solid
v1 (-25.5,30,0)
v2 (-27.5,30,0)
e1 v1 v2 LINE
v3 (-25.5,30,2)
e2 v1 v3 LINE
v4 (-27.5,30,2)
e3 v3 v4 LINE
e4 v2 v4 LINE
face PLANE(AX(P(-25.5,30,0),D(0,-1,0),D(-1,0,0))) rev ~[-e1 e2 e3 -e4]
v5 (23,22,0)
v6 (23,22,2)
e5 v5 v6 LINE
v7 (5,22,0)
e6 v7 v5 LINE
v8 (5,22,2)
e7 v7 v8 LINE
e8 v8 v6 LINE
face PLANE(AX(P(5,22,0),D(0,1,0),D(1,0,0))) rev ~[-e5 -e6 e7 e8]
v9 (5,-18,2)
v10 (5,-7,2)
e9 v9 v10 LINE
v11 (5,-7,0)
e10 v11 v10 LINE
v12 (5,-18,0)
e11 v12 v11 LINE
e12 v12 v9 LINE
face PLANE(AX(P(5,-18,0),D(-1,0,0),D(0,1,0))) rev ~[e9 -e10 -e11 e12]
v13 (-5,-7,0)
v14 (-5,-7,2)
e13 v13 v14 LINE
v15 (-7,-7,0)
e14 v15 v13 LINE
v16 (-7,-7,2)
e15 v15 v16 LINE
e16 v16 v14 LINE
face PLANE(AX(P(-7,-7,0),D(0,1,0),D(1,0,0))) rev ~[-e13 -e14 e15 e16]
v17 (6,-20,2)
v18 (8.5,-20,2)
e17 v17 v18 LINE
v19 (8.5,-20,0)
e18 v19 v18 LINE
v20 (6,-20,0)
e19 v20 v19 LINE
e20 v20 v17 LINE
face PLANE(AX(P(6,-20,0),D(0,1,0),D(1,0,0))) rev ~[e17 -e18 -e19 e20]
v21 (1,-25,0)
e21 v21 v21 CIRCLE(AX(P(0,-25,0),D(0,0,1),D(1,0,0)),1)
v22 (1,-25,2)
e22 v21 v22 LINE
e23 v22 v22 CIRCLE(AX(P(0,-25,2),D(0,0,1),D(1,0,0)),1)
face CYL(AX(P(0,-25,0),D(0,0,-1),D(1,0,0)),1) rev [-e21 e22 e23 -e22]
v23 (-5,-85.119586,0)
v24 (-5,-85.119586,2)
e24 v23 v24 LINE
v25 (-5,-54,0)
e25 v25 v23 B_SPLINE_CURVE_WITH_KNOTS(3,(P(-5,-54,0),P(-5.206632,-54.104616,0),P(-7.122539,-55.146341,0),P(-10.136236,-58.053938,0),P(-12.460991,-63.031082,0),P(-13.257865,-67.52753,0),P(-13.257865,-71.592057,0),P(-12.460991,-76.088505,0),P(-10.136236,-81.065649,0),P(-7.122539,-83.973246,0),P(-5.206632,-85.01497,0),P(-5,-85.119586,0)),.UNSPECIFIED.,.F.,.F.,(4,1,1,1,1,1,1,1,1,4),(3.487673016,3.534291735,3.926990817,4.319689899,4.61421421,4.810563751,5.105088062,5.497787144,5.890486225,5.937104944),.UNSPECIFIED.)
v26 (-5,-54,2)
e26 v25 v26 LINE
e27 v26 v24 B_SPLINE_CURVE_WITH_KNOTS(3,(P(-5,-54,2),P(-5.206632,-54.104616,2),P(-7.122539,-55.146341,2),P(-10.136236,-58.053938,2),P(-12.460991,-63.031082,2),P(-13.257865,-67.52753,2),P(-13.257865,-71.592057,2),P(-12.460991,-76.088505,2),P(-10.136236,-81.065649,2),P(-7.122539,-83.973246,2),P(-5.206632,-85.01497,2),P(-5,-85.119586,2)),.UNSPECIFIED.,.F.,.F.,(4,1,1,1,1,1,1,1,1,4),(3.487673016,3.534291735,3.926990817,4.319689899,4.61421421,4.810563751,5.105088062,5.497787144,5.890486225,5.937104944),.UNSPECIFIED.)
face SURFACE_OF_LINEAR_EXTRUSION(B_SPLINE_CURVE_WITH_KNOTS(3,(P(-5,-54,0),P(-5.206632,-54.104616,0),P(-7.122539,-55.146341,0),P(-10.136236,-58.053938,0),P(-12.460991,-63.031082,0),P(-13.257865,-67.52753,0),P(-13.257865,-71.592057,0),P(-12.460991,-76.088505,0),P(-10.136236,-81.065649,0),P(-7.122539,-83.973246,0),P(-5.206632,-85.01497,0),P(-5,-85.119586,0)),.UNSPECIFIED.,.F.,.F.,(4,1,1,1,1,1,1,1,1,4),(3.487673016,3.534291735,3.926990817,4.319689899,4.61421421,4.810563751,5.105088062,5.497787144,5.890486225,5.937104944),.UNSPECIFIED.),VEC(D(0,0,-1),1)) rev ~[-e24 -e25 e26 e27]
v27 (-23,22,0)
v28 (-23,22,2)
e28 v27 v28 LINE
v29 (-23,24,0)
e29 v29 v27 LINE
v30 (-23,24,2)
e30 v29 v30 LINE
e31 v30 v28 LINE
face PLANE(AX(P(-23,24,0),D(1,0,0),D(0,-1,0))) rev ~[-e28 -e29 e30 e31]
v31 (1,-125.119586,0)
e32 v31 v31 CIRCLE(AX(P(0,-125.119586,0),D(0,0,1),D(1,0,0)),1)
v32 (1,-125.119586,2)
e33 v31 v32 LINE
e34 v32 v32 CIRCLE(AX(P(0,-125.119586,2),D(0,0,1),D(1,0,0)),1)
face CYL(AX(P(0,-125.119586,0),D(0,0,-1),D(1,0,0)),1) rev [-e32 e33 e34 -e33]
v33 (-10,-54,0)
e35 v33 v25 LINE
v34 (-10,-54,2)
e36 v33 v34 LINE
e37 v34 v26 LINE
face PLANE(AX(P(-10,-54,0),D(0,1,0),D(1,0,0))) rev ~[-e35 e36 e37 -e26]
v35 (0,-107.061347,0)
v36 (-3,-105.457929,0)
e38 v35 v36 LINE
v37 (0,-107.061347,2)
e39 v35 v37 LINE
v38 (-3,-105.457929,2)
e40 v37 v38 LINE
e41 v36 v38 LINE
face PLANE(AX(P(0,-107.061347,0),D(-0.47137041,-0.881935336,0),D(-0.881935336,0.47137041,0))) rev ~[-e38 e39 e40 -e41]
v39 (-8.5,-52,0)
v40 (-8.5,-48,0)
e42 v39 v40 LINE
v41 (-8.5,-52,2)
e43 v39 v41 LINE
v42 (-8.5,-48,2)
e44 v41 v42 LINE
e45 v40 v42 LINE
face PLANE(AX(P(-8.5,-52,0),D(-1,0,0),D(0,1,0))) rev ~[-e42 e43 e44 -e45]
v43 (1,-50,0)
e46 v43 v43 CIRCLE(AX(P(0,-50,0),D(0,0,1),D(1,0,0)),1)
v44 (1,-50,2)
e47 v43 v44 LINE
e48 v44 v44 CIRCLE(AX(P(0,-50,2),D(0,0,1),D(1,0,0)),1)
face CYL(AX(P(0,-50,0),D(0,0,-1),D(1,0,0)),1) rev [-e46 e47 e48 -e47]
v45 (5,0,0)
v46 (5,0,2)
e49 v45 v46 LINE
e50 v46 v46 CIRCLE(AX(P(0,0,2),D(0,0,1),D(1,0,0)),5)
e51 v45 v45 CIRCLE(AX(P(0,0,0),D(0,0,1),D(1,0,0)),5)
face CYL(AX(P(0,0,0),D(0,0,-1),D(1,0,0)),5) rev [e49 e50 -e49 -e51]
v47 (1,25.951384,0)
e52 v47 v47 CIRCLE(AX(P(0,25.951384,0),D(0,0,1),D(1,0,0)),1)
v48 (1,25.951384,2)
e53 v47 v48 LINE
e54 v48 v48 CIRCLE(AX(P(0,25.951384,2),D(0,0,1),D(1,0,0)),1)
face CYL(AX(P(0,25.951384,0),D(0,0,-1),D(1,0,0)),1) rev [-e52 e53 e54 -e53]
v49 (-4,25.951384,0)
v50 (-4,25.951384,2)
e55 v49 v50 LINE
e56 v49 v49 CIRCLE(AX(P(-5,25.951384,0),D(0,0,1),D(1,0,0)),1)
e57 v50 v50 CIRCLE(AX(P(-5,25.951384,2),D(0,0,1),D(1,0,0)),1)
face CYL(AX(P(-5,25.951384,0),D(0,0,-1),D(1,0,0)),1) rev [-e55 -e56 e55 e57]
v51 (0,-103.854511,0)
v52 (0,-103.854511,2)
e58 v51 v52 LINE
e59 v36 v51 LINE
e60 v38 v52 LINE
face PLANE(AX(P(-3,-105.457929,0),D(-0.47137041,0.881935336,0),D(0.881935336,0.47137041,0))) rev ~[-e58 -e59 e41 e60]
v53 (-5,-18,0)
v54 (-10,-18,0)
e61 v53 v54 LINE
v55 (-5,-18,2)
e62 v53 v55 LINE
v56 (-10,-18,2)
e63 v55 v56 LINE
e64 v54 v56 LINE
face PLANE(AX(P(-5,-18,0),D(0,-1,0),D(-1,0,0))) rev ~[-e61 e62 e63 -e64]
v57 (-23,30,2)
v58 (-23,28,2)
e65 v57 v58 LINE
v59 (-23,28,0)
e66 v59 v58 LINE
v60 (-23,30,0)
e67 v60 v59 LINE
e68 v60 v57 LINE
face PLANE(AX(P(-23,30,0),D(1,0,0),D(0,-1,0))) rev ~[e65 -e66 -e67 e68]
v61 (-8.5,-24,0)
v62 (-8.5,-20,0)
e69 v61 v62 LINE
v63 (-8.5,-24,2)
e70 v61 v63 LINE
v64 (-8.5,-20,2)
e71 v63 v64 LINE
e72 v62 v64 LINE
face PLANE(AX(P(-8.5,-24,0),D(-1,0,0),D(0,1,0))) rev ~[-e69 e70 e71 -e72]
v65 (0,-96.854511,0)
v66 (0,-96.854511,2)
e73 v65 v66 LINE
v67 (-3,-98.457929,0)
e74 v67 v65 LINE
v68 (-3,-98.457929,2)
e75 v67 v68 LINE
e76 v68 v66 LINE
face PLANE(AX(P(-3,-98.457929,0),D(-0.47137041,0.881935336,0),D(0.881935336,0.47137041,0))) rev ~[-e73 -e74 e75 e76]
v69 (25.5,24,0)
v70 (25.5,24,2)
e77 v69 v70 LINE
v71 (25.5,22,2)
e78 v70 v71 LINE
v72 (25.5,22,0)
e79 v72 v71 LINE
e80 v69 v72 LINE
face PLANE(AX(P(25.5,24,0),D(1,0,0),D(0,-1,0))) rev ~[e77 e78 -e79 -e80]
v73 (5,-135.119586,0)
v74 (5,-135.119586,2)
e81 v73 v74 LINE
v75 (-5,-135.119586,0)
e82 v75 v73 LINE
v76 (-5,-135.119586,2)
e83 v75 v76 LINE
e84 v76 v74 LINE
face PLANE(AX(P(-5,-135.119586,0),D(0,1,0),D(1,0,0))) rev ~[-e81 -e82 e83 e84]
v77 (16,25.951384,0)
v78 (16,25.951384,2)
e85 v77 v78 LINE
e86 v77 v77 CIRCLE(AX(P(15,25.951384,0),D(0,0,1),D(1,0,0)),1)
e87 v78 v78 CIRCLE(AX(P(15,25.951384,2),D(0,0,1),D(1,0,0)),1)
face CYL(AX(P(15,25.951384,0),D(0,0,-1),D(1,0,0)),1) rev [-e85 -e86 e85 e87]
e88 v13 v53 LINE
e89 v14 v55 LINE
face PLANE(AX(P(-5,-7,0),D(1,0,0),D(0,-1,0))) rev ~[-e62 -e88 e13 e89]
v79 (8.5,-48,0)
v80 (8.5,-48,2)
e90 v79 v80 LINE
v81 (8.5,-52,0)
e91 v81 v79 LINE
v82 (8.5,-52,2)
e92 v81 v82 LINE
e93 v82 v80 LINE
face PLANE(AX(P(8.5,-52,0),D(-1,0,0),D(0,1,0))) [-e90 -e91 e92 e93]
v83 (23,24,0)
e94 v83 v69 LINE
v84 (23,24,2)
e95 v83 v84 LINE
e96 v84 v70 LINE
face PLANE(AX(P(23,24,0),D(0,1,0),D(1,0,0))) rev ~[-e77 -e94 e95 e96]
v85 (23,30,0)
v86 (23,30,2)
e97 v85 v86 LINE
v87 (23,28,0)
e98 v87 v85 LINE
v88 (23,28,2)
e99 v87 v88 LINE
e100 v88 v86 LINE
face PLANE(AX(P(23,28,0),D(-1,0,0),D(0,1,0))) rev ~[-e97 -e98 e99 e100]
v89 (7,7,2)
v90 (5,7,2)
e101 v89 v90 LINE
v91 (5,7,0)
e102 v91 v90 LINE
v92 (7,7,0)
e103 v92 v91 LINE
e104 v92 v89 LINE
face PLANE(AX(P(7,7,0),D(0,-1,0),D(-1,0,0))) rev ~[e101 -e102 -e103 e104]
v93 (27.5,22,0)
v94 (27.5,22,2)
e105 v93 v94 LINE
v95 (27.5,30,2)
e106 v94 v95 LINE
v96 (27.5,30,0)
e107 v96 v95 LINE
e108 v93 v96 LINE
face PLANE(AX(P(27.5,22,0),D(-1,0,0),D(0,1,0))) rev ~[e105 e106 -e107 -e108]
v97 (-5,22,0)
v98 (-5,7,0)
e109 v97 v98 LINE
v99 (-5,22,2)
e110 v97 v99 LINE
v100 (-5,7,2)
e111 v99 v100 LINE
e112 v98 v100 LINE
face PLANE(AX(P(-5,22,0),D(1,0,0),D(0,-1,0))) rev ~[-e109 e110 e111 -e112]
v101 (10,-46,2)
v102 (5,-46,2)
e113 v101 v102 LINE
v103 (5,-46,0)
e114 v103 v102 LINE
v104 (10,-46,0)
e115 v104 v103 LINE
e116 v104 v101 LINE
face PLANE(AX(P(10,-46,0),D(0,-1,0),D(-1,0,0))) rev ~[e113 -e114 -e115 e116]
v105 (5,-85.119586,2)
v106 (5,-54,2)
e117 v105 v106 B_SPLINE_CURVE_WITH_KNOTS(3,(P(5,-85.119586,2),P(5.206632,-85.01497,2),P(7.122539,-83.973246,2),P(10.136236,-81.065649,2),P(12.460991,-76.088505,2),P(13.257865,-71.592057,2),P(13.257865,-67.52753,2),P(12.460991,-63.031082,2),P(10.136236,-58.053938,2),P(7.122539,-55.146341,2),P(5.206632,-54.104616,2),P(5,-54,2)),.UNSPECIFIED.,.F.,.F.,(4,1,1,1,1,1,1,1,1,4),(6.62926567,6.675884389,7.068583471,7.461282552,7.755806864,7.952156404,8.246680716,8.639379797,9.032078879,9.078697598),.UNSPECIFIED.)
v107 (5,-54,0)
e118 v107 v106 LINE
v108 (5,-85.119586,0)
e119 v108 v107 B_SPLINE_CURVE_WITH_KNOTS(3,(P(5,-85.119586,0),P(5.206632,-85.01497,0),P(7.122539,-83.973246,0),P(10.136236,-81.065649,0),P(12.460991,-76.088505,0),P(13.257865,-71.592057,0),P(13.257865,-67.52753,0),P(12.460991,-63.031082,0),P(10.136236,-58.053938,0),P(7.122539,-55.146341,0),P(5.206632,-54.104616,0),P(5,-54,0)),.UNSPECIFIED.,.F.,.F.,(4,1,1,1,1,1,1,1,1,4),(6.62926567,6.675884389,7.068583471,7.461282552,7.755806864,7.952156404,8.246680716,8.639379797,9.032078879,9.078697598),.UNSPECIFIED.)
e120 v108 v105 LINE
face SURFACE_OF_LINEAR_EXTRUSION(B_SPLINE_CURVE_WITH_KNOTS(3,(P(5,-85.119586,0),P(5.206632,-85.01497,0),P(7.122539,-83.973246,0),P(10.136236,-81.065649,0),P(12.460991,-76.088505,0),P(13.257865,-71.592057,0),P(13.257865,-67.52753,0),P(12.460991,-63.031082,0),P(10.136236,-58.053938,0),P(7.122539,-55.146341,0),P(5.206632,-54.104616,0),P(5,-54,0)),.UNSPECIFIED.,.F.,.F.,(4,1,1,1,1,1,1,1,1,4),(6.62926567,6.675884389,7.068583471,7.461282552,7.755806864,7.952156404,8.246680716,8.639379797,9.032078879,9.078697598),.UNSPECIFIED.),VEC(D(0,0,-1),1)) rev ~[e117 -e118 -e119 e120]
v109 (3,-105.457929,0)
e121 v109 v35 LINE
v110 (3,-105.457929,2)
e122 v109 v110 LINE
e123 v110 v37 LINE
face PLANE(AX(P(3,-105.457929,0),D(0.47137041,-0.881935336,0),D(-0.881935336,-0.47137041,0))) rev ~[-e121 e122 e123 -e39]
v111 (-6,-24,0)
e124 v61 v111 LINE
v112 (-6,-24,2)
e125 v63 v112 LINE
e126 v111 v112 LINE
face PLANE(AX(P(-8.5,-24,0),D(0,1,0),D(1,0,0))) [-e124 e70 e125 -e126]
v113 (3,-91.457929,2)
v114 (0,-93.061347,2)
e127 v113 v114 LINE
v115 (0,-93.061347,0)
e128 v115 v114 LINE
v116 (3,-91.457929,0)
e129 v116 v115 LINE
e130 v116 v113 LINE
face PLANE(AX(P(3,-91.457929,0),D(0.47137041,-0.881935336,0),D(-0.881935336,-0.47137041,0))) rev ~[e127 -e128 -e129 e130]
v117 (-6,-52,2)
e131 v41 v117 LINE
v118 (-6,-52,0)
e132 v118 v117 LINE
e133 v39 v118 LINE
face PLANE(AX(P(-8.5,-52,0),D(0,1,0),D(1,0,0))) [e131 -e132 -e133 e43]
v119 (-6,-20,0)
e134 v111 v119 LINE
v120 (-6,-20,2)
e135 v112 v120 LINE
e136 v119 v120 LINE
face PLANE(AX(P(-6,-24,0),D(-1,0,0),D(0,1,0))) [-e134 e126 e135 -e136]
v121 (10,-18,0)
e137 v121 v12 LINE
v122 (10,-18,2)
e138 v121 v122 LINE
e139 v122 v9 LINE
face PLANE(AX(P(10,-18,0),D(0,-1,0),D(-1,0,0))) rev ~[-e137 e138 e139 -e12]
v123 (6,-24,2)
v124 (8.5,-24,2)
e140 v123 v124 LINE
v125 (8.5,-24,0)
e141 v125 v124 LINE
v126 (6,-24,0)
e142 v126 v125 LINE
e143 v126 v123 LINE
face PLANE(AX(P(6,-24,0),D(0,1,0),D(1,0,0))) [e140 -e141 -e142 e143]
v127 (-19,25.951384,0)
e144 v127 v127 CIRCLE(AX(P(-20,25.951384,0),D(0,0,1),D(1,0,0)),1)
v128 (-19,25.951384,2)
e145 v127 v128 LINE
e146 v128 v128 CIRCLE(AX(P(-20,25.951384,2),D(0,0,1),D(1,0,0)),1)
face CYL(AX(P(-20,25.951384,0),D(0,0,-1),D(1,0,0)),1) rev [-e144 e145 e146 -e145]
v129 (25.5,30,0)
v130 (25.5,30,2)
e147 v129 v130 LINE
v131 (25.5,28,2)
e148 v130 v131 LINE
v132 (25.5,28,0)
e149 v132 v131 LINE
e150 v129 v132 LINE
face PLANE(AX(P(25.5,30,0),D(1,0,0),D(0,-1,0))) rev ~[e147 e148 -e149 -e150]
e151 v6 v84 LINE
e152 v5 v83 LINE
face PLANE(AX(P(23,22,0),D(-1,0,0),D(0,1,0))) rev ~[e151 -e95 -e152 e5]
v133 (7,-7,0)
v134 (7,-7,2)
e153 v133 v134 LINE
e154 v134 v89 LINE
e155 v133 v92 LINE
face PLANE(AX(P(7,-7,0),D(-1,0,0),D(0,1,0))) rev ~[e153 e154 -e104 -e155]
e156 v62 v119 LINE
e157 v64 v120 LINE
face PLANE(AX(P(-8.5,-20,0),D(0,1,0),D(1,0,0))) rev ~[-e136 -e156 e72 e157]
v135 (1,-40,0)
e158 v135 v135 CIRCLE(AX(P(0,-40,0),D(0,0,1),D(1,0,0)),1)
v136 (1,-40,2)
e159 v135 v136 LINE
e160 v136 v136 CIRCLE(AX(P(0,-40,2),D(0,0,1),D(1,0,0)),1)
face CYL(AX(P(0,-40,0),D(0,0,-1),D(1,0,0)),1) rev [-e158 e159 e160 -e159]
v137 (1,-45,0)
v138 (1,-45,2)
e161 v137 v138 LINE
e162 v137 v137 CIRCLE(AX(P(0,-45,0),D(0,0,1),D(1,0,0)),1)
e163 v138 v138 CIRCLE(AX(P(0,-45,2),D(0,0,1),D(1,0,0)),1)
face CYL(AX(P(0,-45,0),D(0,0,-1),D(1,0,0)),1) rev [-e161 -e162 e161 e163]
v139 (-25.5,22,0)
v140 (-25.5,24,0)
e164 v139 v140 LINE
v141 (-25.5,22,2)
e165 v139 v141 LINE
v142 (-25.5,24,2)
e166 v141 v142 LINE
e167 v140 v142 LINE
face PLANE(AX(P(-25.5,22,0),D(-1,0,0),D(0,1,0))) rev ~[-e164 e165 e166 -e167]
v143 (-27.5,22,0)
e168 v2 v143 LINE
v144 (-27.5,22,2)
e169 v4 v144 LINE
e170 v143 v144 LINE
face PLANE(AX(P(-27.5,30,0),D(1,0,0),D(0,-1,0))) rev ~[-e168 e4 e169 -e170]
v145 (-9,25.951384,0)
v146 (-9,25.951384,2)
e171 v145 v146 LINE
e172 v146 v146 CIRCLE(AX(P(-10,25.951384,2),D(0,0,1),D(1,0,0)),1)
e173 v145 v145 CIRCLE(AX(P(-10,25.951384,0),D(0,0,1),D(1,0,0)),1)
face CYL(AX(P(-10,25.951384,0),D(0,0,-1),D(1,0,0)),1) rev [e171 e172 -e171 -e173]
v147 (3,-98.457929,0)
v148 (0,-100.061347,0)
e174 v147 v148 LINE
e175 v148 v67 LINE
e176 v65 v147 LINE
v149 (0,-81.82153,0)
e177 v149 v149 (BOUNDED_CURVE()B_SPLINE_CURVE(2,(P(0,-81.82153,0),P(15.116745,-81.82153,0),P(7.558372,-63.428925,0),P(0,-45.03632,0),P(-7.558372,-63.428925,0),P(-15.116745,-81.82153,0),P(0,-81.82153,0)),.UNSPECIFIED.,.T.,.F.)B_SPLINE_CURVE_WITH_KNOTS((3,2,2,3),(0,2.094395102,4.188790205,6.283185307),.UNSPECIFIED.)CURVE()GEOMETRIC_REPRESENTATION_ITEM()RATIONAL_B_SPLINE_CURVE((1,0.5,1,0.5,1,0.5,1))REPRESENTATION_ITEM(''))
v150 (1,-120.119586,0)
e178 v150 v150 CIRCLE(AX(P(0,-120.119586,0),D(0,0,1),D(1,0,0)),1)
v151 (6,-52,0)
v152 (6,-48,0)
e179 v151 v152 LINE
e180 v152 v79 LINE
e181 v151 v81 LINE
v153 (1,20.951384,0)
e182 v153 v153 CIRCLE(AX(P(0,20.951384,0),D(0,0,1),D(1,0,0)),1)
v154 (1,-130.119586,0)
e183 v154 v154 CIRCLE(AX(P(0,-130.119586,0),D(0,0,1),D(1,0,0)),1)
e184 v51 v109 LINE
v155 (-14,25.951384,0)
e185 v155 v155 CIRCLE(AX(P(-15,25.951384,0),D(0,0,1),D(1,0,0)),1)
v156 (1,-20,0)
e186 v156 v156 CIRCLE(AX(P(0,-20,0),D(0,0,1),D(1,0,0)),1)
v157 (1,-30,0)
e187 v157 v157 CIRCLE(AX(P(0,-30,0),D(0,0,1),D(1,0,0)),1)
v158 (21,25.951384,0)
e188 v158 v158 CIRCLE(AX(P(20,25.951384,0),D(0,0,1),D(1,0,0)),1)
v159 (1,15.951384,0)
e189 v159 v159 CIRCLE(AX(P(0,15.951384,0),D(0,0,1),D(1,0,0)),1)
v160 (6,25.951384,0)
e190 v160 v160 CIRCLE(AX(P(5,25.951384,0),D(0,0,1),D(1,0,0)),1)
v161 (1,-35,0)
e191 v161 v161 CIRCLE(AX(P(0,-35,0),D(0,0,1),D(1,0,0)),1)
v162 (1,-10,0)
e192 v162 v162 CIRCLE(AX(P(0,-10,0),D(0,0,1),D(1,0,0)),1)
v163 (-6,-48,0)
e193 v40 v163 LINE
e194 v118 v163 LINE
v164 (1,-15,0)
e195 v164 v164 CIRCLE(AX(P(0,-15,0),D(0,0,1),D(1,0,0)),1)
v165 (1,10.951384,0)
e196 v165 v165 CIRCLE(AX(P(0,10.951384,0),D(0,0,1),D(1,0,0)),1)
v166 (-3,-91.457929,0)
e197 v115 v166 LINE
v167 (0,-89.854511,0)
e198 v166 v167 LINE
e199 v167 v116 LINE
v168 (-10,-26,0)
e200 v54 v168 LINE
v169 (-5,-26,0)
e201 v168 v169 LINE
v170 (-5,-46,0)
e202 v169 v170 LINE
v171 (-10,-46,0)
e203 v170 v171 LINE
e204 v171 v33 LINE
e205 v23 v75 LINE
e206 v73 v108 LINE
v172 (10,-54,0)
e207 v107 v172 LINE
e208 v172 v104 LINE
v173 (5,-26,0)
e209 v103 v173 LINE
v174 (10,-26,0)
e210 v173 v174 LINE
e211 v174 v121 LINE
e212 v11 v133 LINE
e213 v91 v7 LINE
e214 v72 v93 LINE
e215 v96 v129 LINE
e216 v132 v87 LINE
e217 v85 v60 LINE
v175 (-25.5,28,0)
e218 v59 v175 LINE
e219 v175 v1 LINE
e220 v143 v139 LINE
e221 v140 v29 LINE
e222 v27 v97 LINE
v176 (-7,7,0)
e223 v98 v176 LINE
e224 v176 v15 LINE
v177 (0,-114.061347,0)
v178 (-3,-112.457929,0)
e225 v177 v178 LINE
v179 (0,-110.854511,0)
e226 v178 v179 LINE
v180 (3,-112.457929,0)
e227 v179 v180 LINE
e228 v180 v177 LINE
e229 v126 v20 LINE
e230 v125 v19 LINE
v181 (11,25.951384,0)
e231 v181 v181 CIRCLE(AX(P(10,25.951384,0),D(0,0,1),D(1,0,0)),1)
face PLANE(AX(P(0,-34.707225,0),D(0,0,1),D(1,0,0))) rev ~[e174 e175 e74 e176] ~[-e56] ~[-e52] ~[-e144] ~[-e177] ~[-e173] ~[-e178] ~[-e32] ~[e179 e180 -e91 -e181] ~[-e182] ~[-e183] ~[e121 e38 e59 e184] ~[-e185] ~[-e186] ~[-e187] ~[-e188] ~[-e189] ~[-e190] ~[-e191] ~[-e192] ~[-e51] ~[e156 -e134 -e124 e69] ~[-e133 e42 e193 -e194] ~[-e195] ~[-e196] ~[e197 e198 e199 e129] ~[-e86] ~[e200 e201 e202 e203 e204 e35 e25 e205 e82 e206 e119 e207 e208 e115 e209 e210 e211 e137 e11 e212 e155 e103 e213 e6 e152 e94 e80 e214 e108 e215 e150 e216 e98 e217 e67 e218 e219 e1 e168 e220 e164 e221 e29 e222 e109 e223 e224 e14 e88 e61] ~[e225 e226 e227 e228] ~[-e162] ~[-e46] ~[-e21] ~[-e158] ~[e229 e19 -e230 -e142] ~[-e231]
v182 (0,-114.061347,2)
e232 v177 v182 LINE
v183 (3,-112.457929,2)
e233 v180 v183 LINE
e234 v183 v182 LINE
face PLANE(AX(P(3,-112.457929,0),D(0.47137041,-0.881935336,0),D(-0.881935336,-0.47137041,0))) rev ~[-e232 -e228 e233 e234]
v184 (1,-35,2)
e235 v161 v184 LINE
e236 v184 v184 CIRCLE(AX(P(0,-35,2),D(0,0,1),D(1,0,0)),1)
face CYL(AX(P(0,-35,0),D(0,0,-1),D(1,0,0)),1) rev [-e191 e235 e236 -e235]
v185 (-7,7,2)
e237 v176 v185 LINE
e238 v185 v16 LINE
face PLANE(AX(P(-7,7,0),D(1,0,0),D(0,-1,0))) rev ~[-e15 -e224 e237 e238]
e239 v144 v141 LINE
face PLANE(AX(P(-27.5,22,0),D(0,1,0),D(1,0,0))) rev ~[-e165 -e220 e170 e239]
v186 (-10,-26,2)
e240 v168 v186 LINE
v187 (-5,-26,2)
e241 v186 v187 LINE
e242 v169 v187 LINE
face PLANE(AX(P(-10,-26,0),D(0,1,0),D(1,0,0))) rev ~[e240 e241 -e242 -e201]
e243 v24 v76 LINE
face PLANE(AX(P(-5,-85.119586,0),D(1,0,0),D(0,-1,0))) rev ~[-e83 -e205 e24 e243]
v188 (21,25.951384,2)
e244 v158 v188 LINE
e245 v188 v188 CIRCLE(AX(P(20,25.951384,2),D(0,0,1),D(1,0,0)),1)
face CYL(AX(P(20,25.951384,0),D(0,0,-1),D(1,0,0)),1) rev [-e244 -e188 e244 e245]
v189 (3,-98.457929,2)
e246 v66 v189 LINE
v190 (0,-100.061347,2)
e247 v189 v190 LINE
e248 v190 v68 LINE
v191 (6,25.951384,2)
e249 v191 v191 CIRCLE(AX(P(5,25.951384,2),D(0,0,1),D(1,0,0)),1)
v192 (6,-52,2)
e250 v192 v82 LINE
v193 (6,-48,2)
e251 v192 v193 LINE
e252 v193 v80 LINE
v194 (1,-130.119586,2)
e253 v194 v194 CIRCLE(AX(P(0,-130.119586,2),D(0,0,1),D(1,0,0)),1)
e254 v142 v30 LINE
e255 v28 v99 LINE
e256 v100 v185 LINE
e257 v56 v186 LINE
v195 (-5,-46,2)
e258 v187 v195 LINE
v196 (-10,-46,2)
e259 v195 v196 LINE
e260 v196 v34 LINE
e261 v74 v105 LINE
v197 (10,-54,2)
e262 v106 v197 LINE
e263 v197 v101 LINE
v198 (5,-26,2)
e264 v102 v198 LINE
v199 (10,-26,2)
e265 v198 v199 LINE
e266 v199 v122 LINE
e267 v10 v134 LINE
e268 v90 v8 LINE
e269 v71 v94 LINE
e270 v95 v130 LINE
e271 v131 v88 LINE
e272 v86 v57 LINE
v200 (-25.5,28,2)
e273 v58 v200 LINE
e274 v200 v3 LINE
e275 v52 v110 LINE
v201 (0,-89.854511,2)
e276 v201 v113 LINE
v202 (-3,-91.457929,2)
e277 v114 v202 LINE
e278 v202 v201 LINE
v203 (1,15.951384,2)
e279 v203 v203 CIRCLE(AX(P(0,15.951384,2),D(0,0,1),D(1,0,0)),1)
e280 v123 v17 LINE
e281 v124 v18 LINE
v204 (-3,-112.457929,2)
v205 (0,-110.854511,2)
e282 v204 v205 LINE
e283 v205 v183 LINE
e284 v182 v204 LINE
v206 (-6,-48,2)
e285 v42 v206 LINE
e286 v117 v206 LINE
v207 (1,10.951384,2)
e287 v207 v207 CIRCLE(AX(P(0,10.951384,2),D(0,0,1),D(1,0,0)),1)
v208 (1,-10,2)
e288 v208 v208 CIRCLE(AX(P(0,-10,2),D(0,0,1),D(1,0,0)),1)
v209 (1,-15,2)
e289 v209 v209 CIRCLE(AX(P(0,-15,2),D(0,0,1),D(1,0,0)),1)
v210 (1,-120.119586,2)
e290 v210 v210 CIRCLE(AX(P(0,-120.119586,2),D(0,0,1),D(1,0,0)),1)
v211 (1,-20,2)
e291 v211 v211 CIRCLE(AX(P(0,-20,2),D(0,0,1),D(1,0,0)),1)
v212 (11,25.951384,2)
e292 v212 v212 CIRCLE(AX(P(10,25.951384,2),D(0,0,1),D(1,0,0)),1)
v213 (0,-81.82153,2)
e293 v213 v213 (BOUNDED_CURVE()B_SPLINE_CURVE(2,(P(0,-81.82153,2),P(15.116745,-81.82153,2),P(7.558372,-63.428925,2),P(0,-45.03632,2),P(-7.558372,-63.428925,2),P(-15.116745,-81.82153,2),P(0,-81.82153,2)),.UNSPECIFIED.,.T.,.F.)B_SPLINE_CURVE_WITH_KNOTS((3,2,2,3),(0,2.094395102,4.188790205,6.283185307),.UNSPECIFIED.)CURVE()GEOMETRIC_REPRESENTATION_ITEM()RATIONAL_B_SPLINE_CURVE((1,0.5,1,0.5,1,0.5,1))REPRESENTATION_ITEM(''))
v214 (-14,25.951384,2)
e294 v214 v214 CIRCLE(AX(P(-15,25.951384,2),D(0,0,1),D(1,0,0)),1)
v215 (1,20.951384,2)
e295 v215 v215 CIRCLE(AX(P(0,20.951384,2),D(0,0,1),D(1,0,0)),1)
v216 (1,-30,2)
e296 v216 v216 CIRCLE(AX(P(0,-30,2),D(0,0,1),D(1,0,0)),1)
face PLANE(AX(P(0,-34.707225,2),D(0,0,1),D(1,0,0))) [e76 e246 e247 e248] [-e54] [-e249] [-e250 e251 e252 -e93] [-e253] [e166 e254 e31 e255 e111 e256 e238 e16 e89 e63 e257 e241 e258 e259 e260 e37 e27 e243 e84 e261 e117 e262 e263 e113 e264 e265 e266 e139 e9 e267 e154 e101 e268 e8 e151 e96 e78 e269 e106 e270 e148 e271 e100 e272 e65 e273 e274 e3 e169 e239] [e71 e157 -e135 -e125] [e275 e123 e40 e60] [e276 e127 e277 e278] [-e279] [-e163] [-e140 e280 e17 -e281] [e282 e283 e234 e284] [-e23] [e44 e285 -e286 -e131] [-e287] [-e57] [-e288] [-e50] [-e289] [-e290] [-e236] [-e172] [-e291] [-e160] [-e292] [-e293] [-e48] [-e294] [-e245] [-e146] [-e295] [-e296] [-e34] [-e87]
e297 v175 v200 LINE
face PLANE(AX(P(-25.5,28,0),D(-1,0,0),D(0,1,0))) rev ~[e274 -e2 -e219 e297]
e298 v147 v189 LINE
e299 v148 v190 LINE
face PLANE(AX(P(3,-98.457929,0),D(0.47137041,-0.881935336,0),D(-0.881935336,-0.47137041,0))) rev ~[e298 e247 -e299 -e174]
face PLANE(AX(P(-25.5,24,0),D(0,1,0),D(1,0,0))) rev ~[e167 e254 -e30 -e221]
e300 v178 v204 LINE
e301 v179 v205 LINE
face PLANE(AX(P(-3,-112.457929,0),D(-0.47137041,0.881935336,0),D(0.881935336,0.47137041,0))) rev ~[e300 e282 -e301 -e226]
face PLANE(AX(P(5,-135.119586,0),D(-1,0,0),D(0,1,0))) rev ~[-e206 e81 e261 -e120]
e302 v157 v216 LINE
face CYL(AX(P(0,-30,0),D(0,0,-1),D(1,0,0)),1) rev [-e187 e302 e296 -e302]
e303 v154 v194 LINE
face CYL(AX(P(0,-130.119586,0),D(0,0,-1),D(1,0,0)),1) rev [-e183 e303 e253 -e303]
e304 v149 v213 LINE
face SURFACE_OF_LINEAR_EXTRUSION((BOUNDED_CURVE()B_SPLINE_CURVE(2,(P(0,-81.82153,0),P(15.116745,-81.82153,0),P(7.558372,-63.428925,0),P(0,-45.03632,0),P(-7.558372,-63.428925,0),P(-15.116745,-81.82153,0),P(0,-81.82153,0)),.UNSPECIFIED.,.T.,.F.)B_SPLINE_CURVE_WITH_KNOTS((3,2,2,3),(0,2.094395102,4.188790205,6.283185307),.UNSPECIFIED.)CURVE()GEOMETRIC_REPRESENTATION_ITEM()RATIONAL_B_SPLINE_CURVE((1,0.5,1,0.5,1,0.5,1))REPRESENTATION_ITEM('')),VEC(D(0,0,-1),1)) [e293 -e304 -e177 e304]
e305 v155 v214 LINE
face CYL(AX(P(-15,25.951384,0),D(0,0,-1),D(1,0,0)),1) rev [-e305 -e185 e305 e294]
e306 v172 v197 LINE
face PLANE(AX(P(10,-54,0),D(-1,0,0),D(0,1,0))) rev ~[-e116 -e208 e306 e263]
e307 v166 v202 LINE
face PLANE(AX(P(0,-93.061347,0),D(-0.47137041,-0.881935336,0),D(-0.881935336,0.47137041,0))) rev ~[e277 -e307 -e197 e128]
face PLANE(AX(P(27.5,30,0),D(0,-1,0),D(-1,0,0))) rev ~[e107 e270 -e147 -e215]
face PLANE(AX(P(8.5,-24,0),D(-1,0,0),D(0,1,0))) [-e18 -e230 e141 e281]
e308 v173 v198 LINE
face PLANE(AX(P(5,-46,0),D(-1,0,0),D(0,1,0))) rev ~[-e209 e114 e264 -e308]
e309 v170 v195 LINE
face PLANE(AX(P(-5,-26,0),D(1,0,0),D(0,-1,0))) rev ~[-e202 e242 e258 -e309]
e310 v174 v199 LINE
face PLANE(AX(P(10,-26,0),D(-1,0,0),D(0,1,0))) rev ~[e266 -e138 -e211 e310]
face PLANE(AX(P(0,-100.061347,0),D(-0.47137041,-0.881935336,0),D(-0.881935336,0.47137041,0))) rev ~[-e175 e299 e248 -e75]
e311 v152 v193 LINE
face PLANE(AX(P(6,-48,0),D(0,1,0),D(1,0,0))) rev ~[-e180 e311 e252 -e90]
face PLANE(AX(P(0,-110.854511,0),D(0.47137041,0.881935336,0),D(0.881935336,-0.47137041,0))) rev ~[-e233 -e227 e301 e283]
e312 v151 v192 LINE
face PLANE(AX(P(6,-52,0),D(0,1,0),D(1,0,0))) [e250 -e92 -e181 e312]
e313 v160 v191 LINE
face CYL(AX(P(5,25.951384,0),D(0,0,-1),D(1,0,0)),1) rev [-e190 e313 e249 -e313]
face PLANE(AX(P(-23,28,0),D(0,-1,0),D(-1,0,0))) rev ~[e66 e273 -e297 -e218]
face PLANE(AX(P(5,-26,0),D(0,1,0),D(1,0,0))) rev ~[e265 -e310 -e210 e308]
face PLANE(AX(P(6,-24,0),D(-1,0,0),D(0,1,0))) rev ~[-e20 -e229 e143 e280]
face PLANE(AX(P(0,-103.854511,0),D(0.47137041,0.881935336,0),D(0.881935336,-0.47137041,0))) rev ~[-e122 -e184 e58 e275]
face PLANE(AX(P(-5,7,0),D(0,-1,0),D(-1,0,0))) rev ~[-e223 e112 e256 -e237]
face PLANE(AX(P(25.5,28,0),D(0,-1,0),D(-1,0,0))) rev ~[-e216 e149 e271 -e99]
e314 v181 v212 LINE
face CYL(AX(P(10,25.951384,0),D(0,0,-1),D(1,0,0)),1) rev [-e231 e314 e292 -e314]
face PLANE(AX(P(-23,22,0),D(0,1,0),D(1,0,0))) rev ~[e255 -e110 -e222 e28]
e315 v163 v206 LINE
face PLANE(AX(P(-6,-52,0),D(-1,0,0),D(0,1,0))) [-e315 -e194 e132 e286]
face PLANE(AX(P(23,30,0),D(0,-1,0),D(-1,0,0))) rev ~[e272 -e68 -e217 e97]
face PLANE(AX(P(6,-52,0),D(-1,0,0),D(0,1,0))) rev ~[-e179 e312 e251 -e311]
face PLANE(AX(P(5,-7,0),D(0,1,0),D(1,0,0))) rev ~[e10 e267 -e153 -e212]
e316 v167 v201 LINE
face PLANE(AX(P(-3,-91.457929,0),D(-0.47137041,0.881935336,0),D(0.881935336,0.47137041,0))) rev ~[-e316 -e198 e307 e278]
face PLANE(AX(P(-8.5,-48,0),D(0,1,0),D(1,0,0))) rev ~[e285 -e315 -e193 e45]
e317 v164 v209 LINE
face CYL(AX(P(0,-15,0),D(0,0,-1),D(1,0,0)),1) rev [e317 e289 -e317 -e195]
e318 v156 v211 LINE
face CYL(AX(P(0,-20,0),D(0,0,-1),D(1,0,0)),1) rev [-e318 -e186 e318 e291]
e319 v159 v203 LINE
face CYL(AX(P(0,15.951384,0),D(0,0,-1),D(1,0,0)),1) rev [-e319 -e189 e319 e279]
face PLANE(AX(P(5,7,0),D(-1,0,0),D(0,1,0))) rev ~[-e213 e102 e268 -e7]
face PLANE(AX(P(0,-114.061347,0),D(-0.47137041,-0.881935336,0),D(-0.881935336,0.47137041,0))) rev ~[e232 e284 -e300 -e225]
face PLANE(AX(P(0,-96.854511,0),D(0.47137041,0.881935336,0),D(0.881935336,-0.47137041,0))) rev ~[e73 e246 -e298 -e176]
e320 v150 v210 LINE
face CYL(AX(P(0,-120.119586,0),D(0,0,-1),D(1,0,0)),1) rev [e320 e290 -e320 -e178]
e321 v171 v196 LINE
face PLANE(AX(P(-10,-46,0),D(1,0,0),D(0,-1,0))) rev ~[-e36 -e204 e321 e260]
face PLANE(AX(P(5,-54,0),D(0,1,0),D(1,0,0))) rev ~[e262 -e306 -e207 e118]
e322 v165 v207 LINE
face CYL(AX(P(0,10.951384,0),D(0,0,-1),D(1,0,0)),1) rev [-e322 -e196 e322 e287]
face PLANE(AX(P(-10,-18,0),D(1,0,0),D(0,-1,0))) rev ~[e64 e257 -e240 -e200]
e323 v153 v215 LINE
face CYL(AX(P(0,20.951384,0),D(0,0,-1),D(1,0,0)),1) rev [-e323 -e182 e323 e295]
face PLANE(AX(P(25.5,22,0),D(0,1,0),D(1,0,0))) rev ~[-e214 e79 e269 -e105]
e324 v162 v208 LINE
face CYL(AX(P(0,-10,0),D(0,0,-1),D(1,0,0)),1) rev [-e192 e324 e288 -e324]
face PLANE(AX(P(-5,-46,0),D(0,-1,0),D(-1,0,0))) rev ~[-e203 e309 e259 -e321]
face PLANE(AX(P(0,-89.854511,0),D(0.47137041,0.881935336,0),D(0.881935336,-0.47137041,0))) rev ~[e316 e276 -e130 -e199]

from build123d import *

# Parameters (mm, degrees)
SKETCH_1_R      = 5
SKETCH_1_R_2    = 1
SKETCH_1_W      = 2.5
SKETCH_1_H      = 4
EXTRUDE_1_DEPTH = 2


with BuildPart() as part:
    # 草图1 → 凸台-拉伸1 (new body)
    with BuildSketch(Plane.XY):
        with BuildLine():
            Line((-5, 7), (-7, 7))
            Line((-7, 7), (-7, -7))
            Line((-7, -7), (-5, -7))
            Line((-5, -7), (-5, -18))
            Line((-5, -18), (-10, -18))
            Line((-10, -18), (-10, -26))
            Line((-10, -26), (-5, -26))
            Line((-5, -26), (-5, -46))
            Line((-5, -46), (-10, -46))
            Line((-10, -46), (-10, -54))
            Line((-10, -54), (-5, -54))
            add(Edge.make_bspline(
                [(-5, -54), (-5.206631572, -54.1046163), (-7.122538881, -55.146340962), (-10.136236083, -58.053937604), (-12.460991296, -63.031081614), (-13.257864896, -67.527529667), (-13.257864896, -71.592056821), (-12.460991296, -76.088504874), (-10.136236082, -81.065648884), (-7.122538881, -83.973245525), (-5.206631571, -85.014970188), (-5, -85.119586487)],
                knots=[3.487673016, 3.487673016, 3.487673016, 3.487673016, 3.534291735, 3.926990817, 4.319689899, 4.61421421, 4.810563751, 5.105088062, 5.497787144, 5.890486225, 5.937104944, 5.937104944, 5.937104944, 5.937104944], degree=3))
            Line((-5, -85.119586487), (-5, -135.119586487))
            Line((-5, -135.119586487), (5, -135.119586487))
            Line((5, -135.119586487), (5, -85.119586487))
            add(Edge.make_bspline(
                [(5, -85.119586487), (5.206631572, -85.014970188), (7.122538881, -83.973245525), (10.136236083, -81.065648883), (12.460991296, -76.088504873), (13.257864896, -71.592056821), (13.257864896, -67.527529666), (12.460991296, -63.031081614), (10.136236082, -58.053937604), (7.122538881, -55.146340962), (5.206631571, -54.1046163), (5, -54)],
                knots=[6.62926567, 6.62926567, 6.62926567, 6.62926567, 6.675884389, 7.068583471, 7.461282552, 7.755806864, 7.952156404, 8.246680716, 8.639379797, 9.032078879, 9.078697598, 9.078697598, 9.078697598, 9.078697598], degree=3))
            Line((5, -54), (10, -54))
            Line((10, -54), (10, -46))
            Line((10, -46), (5, -46))
            Line((5, -46), (5, -26))
            Line((5, -26), (10, -26))
            Line((10, -26), (10, -18))
            Line((10, -18), (5, -18))
            Line((5, -18), (5, -7))
            Line((5, -7), (7, -7))
            Line((7, -7), (7, 7))
            Line((7, 7), (5, 7))
            Line((5, 7), (5, 22))
            Line((5, 22), (23, 22))
            Line((23, 22), (23, 24))
            Line((23, 24), (25.5, 24))
            Line((25.5, 24), (25.5, 22))
            Line((25.5, 22), (27.5, 22))
            Line((27.5, 22), (27.5, 30))
            Line((27.5, 30), (25.5, 30))
            Line((25.5, 30), (25.5, 28))
            Line((25.5, 28), (23, 28))
            Line((23, 28), (23, 30))
            Line((23, 30), (-23, 30))
            Line((-23, 30), (-23, 28))
            Line((-23, 28), (-25.5, 28))
            Line((-25.5, 28), (-25.5, 30))
            Line((-25.5, 30), (-27.5, 30))
            Line((-27.5, 30), (-27.5, 22))
            Line((-27.5, 22), (-25.5, 22))
            Line((-25.5, 22), (-25.5, 24))
            Line((-25.5, 24), (-23, 24))
            Line((-23, 24), (-23, 22))
            Line((-23, 22), (-5, 22))
            Line((-5, 22), (-5, 7))
        make_face()
        Circle(SKETCH_1_R, mode=Mode.SUBTRACT)
        with Locations((20, 25.95138361)):
            Circle(SKETCH_1_R_2, mode=Mode.SUBTRACT)
        with Locations((-20, 25.95138361)):
            Circle(SKETCH_1_R_2, mode=Mode.SUBTRACT)
        with Locations((-15, 25.95138361)):
            Circle(SKETCH_1_R_2, mode=Mode.SUBTRACT)
        with Locations((-10, 25.95138361)):
            Circle(SKETCH_1_R_2, mode=Mode.SUBTRACT)
        with Locations((-5, 25.95138361)):
            Circle(SKETCH_1_R_2, mode=Mode.SUBTRACT)
        with Locations((0, 10.95138361)):
            Circle(SKETCH_1_R_2, mode=Mode.SUBTRACT)
        with Locations((0, 15.95138361)):
            Circle(SKETCH_1_R_2, mode=Mode.SUBTRACT)
        with Locations((0, 20.95138361)):
            Circle(SKETCH_1_R_2, mode=Mode.SUBTRACT)
        with Locations((0, 25.95138361)):
            Circle(SKETCH_1_R_2, mode=Mode.SUBTRACT)
        with Locations((5, 25.95138361)):
            Circle(SKETCH_1_R_2, mode=Mode.SUBTRACT)
        with Locations((10, 25.95138361)):
            Circle(SKETCH_1_R_2, mode=Mode.SUBTRACT)
        with Locations((15, 25.95138361)):
            Circle(SKETCH_1_R_2, mode=Mode.SUBTRACT)
        with Locations((7.25, -22)):
            Rectangle(SKETCH_1_W, SKETCH_1_H, mode=Mode.SUBTRACT)
        with Locations((-7.25, -50)):
            Rectangle(SKETCH_1_W, SKETCH_1_H, mode=Mode.SUBTRACT)
        with Locations((0, -45)):
            Circle(SKETCH_1_R_2, mode=Mode.SUBTRACT)
        with Locations((0, -40)):
            Circle(SKETCH_1_R_2, mode=Mode.SUBTRACT)
        with Locations((0, -35)):
            Circle(SKETCH_1_R_2, mode=Mode.SUBTRACT)
        with Locations((-7.25, -22)):
            Rectangle(SKETCH_1_W, SKETCH_1_H, mode=Mode.SUBTRACT)
        with Locations((0, -30)):
            Circle(SKETCH_1_R_2, mode=Mode.SUBTRACT)
        with Locations((0, -25)):
            Circle(SKETCH_1_R_2, mode=Mode.SUBTRACT)
        with Locations((0, -20)):
            Circle(SKETCH_1_R_2, mode=Mode.SUBTRACT)
        with Locations((0, -15)):
            Circle(SKETCH_1_R_2, mode=Mode.SUBTRACT)
        with Locations((0, -10)):
            Circle(SKETCH_1_R_2, mode=Mode.SUBTRACT)
        with Locations((0, -50)):
            Circle(SKETCH_1_R_2, mode=Mode.SUBTRACT)
        with Locations((7.25, -50)):
            Rectangle(SKETCH_1_W, SKETCH_1_H, mode=Mode.SUBTRACT)
        with BuildLine():
            add(Edge.make_bspline(
                [(0, -81.82152984), (15.11674465, -81.82152984), (7.558372325, -63.428924948), (0, -45.036320056), (-7.558372325, -63.428924948), (-15.11674465, -81.82152984), (0, -81.82152984)],
                knots=[0, 0, 0, 2.094395102, 2.094395102, 4.188790205, 4.188790205, 6.283185307, 6.283185307, 6.283185307], degree=2, weights=[1, 0.5, 1, 0.5, 1, 0.5, 1]))
        make_face(mode=Mode.SUBTRACT)
        Polygon((0, -114.061347215), (-3, -112.457928946), (0, -110.854510677), (3, -112.457928946), align=None, mode=Mode.SUBTRACT)
        with Locations((0, -125.119586487)):
            Circle(SKETCH_1_R_2, mode=Mode.SUBTRACT)
        with Locations((0, -120.119586487)):
            Circle(SKETCH_1_R_2, mode=Mode.SUBTRACT)
        Polygon((0, -103.854510677), (3, -105.457928946), (0, -107.061347215), (-3, -105.457928946), align=None, mode=Mode.SUBTRACT)
        Polygon((0, -96.854510677), (3, -98.457928946), (0, -100.061347215), (-3, -98.457928946), align=None, mode=Mode.SUBTRACT)
        Polygon((0, -89.854510677), (3, -91.457928946), (0, -93.061347215), (-3, -91.457928946), align=None, mode=Mode.SUBTRACT)
        with Locations((0, -130.119586487)):
            Circle(SKETCH_1_R_2, mode=Mode.SUBTRACT)
    extrude(amount=EXTRUDE_1_DEPTH)


solid = part.part
